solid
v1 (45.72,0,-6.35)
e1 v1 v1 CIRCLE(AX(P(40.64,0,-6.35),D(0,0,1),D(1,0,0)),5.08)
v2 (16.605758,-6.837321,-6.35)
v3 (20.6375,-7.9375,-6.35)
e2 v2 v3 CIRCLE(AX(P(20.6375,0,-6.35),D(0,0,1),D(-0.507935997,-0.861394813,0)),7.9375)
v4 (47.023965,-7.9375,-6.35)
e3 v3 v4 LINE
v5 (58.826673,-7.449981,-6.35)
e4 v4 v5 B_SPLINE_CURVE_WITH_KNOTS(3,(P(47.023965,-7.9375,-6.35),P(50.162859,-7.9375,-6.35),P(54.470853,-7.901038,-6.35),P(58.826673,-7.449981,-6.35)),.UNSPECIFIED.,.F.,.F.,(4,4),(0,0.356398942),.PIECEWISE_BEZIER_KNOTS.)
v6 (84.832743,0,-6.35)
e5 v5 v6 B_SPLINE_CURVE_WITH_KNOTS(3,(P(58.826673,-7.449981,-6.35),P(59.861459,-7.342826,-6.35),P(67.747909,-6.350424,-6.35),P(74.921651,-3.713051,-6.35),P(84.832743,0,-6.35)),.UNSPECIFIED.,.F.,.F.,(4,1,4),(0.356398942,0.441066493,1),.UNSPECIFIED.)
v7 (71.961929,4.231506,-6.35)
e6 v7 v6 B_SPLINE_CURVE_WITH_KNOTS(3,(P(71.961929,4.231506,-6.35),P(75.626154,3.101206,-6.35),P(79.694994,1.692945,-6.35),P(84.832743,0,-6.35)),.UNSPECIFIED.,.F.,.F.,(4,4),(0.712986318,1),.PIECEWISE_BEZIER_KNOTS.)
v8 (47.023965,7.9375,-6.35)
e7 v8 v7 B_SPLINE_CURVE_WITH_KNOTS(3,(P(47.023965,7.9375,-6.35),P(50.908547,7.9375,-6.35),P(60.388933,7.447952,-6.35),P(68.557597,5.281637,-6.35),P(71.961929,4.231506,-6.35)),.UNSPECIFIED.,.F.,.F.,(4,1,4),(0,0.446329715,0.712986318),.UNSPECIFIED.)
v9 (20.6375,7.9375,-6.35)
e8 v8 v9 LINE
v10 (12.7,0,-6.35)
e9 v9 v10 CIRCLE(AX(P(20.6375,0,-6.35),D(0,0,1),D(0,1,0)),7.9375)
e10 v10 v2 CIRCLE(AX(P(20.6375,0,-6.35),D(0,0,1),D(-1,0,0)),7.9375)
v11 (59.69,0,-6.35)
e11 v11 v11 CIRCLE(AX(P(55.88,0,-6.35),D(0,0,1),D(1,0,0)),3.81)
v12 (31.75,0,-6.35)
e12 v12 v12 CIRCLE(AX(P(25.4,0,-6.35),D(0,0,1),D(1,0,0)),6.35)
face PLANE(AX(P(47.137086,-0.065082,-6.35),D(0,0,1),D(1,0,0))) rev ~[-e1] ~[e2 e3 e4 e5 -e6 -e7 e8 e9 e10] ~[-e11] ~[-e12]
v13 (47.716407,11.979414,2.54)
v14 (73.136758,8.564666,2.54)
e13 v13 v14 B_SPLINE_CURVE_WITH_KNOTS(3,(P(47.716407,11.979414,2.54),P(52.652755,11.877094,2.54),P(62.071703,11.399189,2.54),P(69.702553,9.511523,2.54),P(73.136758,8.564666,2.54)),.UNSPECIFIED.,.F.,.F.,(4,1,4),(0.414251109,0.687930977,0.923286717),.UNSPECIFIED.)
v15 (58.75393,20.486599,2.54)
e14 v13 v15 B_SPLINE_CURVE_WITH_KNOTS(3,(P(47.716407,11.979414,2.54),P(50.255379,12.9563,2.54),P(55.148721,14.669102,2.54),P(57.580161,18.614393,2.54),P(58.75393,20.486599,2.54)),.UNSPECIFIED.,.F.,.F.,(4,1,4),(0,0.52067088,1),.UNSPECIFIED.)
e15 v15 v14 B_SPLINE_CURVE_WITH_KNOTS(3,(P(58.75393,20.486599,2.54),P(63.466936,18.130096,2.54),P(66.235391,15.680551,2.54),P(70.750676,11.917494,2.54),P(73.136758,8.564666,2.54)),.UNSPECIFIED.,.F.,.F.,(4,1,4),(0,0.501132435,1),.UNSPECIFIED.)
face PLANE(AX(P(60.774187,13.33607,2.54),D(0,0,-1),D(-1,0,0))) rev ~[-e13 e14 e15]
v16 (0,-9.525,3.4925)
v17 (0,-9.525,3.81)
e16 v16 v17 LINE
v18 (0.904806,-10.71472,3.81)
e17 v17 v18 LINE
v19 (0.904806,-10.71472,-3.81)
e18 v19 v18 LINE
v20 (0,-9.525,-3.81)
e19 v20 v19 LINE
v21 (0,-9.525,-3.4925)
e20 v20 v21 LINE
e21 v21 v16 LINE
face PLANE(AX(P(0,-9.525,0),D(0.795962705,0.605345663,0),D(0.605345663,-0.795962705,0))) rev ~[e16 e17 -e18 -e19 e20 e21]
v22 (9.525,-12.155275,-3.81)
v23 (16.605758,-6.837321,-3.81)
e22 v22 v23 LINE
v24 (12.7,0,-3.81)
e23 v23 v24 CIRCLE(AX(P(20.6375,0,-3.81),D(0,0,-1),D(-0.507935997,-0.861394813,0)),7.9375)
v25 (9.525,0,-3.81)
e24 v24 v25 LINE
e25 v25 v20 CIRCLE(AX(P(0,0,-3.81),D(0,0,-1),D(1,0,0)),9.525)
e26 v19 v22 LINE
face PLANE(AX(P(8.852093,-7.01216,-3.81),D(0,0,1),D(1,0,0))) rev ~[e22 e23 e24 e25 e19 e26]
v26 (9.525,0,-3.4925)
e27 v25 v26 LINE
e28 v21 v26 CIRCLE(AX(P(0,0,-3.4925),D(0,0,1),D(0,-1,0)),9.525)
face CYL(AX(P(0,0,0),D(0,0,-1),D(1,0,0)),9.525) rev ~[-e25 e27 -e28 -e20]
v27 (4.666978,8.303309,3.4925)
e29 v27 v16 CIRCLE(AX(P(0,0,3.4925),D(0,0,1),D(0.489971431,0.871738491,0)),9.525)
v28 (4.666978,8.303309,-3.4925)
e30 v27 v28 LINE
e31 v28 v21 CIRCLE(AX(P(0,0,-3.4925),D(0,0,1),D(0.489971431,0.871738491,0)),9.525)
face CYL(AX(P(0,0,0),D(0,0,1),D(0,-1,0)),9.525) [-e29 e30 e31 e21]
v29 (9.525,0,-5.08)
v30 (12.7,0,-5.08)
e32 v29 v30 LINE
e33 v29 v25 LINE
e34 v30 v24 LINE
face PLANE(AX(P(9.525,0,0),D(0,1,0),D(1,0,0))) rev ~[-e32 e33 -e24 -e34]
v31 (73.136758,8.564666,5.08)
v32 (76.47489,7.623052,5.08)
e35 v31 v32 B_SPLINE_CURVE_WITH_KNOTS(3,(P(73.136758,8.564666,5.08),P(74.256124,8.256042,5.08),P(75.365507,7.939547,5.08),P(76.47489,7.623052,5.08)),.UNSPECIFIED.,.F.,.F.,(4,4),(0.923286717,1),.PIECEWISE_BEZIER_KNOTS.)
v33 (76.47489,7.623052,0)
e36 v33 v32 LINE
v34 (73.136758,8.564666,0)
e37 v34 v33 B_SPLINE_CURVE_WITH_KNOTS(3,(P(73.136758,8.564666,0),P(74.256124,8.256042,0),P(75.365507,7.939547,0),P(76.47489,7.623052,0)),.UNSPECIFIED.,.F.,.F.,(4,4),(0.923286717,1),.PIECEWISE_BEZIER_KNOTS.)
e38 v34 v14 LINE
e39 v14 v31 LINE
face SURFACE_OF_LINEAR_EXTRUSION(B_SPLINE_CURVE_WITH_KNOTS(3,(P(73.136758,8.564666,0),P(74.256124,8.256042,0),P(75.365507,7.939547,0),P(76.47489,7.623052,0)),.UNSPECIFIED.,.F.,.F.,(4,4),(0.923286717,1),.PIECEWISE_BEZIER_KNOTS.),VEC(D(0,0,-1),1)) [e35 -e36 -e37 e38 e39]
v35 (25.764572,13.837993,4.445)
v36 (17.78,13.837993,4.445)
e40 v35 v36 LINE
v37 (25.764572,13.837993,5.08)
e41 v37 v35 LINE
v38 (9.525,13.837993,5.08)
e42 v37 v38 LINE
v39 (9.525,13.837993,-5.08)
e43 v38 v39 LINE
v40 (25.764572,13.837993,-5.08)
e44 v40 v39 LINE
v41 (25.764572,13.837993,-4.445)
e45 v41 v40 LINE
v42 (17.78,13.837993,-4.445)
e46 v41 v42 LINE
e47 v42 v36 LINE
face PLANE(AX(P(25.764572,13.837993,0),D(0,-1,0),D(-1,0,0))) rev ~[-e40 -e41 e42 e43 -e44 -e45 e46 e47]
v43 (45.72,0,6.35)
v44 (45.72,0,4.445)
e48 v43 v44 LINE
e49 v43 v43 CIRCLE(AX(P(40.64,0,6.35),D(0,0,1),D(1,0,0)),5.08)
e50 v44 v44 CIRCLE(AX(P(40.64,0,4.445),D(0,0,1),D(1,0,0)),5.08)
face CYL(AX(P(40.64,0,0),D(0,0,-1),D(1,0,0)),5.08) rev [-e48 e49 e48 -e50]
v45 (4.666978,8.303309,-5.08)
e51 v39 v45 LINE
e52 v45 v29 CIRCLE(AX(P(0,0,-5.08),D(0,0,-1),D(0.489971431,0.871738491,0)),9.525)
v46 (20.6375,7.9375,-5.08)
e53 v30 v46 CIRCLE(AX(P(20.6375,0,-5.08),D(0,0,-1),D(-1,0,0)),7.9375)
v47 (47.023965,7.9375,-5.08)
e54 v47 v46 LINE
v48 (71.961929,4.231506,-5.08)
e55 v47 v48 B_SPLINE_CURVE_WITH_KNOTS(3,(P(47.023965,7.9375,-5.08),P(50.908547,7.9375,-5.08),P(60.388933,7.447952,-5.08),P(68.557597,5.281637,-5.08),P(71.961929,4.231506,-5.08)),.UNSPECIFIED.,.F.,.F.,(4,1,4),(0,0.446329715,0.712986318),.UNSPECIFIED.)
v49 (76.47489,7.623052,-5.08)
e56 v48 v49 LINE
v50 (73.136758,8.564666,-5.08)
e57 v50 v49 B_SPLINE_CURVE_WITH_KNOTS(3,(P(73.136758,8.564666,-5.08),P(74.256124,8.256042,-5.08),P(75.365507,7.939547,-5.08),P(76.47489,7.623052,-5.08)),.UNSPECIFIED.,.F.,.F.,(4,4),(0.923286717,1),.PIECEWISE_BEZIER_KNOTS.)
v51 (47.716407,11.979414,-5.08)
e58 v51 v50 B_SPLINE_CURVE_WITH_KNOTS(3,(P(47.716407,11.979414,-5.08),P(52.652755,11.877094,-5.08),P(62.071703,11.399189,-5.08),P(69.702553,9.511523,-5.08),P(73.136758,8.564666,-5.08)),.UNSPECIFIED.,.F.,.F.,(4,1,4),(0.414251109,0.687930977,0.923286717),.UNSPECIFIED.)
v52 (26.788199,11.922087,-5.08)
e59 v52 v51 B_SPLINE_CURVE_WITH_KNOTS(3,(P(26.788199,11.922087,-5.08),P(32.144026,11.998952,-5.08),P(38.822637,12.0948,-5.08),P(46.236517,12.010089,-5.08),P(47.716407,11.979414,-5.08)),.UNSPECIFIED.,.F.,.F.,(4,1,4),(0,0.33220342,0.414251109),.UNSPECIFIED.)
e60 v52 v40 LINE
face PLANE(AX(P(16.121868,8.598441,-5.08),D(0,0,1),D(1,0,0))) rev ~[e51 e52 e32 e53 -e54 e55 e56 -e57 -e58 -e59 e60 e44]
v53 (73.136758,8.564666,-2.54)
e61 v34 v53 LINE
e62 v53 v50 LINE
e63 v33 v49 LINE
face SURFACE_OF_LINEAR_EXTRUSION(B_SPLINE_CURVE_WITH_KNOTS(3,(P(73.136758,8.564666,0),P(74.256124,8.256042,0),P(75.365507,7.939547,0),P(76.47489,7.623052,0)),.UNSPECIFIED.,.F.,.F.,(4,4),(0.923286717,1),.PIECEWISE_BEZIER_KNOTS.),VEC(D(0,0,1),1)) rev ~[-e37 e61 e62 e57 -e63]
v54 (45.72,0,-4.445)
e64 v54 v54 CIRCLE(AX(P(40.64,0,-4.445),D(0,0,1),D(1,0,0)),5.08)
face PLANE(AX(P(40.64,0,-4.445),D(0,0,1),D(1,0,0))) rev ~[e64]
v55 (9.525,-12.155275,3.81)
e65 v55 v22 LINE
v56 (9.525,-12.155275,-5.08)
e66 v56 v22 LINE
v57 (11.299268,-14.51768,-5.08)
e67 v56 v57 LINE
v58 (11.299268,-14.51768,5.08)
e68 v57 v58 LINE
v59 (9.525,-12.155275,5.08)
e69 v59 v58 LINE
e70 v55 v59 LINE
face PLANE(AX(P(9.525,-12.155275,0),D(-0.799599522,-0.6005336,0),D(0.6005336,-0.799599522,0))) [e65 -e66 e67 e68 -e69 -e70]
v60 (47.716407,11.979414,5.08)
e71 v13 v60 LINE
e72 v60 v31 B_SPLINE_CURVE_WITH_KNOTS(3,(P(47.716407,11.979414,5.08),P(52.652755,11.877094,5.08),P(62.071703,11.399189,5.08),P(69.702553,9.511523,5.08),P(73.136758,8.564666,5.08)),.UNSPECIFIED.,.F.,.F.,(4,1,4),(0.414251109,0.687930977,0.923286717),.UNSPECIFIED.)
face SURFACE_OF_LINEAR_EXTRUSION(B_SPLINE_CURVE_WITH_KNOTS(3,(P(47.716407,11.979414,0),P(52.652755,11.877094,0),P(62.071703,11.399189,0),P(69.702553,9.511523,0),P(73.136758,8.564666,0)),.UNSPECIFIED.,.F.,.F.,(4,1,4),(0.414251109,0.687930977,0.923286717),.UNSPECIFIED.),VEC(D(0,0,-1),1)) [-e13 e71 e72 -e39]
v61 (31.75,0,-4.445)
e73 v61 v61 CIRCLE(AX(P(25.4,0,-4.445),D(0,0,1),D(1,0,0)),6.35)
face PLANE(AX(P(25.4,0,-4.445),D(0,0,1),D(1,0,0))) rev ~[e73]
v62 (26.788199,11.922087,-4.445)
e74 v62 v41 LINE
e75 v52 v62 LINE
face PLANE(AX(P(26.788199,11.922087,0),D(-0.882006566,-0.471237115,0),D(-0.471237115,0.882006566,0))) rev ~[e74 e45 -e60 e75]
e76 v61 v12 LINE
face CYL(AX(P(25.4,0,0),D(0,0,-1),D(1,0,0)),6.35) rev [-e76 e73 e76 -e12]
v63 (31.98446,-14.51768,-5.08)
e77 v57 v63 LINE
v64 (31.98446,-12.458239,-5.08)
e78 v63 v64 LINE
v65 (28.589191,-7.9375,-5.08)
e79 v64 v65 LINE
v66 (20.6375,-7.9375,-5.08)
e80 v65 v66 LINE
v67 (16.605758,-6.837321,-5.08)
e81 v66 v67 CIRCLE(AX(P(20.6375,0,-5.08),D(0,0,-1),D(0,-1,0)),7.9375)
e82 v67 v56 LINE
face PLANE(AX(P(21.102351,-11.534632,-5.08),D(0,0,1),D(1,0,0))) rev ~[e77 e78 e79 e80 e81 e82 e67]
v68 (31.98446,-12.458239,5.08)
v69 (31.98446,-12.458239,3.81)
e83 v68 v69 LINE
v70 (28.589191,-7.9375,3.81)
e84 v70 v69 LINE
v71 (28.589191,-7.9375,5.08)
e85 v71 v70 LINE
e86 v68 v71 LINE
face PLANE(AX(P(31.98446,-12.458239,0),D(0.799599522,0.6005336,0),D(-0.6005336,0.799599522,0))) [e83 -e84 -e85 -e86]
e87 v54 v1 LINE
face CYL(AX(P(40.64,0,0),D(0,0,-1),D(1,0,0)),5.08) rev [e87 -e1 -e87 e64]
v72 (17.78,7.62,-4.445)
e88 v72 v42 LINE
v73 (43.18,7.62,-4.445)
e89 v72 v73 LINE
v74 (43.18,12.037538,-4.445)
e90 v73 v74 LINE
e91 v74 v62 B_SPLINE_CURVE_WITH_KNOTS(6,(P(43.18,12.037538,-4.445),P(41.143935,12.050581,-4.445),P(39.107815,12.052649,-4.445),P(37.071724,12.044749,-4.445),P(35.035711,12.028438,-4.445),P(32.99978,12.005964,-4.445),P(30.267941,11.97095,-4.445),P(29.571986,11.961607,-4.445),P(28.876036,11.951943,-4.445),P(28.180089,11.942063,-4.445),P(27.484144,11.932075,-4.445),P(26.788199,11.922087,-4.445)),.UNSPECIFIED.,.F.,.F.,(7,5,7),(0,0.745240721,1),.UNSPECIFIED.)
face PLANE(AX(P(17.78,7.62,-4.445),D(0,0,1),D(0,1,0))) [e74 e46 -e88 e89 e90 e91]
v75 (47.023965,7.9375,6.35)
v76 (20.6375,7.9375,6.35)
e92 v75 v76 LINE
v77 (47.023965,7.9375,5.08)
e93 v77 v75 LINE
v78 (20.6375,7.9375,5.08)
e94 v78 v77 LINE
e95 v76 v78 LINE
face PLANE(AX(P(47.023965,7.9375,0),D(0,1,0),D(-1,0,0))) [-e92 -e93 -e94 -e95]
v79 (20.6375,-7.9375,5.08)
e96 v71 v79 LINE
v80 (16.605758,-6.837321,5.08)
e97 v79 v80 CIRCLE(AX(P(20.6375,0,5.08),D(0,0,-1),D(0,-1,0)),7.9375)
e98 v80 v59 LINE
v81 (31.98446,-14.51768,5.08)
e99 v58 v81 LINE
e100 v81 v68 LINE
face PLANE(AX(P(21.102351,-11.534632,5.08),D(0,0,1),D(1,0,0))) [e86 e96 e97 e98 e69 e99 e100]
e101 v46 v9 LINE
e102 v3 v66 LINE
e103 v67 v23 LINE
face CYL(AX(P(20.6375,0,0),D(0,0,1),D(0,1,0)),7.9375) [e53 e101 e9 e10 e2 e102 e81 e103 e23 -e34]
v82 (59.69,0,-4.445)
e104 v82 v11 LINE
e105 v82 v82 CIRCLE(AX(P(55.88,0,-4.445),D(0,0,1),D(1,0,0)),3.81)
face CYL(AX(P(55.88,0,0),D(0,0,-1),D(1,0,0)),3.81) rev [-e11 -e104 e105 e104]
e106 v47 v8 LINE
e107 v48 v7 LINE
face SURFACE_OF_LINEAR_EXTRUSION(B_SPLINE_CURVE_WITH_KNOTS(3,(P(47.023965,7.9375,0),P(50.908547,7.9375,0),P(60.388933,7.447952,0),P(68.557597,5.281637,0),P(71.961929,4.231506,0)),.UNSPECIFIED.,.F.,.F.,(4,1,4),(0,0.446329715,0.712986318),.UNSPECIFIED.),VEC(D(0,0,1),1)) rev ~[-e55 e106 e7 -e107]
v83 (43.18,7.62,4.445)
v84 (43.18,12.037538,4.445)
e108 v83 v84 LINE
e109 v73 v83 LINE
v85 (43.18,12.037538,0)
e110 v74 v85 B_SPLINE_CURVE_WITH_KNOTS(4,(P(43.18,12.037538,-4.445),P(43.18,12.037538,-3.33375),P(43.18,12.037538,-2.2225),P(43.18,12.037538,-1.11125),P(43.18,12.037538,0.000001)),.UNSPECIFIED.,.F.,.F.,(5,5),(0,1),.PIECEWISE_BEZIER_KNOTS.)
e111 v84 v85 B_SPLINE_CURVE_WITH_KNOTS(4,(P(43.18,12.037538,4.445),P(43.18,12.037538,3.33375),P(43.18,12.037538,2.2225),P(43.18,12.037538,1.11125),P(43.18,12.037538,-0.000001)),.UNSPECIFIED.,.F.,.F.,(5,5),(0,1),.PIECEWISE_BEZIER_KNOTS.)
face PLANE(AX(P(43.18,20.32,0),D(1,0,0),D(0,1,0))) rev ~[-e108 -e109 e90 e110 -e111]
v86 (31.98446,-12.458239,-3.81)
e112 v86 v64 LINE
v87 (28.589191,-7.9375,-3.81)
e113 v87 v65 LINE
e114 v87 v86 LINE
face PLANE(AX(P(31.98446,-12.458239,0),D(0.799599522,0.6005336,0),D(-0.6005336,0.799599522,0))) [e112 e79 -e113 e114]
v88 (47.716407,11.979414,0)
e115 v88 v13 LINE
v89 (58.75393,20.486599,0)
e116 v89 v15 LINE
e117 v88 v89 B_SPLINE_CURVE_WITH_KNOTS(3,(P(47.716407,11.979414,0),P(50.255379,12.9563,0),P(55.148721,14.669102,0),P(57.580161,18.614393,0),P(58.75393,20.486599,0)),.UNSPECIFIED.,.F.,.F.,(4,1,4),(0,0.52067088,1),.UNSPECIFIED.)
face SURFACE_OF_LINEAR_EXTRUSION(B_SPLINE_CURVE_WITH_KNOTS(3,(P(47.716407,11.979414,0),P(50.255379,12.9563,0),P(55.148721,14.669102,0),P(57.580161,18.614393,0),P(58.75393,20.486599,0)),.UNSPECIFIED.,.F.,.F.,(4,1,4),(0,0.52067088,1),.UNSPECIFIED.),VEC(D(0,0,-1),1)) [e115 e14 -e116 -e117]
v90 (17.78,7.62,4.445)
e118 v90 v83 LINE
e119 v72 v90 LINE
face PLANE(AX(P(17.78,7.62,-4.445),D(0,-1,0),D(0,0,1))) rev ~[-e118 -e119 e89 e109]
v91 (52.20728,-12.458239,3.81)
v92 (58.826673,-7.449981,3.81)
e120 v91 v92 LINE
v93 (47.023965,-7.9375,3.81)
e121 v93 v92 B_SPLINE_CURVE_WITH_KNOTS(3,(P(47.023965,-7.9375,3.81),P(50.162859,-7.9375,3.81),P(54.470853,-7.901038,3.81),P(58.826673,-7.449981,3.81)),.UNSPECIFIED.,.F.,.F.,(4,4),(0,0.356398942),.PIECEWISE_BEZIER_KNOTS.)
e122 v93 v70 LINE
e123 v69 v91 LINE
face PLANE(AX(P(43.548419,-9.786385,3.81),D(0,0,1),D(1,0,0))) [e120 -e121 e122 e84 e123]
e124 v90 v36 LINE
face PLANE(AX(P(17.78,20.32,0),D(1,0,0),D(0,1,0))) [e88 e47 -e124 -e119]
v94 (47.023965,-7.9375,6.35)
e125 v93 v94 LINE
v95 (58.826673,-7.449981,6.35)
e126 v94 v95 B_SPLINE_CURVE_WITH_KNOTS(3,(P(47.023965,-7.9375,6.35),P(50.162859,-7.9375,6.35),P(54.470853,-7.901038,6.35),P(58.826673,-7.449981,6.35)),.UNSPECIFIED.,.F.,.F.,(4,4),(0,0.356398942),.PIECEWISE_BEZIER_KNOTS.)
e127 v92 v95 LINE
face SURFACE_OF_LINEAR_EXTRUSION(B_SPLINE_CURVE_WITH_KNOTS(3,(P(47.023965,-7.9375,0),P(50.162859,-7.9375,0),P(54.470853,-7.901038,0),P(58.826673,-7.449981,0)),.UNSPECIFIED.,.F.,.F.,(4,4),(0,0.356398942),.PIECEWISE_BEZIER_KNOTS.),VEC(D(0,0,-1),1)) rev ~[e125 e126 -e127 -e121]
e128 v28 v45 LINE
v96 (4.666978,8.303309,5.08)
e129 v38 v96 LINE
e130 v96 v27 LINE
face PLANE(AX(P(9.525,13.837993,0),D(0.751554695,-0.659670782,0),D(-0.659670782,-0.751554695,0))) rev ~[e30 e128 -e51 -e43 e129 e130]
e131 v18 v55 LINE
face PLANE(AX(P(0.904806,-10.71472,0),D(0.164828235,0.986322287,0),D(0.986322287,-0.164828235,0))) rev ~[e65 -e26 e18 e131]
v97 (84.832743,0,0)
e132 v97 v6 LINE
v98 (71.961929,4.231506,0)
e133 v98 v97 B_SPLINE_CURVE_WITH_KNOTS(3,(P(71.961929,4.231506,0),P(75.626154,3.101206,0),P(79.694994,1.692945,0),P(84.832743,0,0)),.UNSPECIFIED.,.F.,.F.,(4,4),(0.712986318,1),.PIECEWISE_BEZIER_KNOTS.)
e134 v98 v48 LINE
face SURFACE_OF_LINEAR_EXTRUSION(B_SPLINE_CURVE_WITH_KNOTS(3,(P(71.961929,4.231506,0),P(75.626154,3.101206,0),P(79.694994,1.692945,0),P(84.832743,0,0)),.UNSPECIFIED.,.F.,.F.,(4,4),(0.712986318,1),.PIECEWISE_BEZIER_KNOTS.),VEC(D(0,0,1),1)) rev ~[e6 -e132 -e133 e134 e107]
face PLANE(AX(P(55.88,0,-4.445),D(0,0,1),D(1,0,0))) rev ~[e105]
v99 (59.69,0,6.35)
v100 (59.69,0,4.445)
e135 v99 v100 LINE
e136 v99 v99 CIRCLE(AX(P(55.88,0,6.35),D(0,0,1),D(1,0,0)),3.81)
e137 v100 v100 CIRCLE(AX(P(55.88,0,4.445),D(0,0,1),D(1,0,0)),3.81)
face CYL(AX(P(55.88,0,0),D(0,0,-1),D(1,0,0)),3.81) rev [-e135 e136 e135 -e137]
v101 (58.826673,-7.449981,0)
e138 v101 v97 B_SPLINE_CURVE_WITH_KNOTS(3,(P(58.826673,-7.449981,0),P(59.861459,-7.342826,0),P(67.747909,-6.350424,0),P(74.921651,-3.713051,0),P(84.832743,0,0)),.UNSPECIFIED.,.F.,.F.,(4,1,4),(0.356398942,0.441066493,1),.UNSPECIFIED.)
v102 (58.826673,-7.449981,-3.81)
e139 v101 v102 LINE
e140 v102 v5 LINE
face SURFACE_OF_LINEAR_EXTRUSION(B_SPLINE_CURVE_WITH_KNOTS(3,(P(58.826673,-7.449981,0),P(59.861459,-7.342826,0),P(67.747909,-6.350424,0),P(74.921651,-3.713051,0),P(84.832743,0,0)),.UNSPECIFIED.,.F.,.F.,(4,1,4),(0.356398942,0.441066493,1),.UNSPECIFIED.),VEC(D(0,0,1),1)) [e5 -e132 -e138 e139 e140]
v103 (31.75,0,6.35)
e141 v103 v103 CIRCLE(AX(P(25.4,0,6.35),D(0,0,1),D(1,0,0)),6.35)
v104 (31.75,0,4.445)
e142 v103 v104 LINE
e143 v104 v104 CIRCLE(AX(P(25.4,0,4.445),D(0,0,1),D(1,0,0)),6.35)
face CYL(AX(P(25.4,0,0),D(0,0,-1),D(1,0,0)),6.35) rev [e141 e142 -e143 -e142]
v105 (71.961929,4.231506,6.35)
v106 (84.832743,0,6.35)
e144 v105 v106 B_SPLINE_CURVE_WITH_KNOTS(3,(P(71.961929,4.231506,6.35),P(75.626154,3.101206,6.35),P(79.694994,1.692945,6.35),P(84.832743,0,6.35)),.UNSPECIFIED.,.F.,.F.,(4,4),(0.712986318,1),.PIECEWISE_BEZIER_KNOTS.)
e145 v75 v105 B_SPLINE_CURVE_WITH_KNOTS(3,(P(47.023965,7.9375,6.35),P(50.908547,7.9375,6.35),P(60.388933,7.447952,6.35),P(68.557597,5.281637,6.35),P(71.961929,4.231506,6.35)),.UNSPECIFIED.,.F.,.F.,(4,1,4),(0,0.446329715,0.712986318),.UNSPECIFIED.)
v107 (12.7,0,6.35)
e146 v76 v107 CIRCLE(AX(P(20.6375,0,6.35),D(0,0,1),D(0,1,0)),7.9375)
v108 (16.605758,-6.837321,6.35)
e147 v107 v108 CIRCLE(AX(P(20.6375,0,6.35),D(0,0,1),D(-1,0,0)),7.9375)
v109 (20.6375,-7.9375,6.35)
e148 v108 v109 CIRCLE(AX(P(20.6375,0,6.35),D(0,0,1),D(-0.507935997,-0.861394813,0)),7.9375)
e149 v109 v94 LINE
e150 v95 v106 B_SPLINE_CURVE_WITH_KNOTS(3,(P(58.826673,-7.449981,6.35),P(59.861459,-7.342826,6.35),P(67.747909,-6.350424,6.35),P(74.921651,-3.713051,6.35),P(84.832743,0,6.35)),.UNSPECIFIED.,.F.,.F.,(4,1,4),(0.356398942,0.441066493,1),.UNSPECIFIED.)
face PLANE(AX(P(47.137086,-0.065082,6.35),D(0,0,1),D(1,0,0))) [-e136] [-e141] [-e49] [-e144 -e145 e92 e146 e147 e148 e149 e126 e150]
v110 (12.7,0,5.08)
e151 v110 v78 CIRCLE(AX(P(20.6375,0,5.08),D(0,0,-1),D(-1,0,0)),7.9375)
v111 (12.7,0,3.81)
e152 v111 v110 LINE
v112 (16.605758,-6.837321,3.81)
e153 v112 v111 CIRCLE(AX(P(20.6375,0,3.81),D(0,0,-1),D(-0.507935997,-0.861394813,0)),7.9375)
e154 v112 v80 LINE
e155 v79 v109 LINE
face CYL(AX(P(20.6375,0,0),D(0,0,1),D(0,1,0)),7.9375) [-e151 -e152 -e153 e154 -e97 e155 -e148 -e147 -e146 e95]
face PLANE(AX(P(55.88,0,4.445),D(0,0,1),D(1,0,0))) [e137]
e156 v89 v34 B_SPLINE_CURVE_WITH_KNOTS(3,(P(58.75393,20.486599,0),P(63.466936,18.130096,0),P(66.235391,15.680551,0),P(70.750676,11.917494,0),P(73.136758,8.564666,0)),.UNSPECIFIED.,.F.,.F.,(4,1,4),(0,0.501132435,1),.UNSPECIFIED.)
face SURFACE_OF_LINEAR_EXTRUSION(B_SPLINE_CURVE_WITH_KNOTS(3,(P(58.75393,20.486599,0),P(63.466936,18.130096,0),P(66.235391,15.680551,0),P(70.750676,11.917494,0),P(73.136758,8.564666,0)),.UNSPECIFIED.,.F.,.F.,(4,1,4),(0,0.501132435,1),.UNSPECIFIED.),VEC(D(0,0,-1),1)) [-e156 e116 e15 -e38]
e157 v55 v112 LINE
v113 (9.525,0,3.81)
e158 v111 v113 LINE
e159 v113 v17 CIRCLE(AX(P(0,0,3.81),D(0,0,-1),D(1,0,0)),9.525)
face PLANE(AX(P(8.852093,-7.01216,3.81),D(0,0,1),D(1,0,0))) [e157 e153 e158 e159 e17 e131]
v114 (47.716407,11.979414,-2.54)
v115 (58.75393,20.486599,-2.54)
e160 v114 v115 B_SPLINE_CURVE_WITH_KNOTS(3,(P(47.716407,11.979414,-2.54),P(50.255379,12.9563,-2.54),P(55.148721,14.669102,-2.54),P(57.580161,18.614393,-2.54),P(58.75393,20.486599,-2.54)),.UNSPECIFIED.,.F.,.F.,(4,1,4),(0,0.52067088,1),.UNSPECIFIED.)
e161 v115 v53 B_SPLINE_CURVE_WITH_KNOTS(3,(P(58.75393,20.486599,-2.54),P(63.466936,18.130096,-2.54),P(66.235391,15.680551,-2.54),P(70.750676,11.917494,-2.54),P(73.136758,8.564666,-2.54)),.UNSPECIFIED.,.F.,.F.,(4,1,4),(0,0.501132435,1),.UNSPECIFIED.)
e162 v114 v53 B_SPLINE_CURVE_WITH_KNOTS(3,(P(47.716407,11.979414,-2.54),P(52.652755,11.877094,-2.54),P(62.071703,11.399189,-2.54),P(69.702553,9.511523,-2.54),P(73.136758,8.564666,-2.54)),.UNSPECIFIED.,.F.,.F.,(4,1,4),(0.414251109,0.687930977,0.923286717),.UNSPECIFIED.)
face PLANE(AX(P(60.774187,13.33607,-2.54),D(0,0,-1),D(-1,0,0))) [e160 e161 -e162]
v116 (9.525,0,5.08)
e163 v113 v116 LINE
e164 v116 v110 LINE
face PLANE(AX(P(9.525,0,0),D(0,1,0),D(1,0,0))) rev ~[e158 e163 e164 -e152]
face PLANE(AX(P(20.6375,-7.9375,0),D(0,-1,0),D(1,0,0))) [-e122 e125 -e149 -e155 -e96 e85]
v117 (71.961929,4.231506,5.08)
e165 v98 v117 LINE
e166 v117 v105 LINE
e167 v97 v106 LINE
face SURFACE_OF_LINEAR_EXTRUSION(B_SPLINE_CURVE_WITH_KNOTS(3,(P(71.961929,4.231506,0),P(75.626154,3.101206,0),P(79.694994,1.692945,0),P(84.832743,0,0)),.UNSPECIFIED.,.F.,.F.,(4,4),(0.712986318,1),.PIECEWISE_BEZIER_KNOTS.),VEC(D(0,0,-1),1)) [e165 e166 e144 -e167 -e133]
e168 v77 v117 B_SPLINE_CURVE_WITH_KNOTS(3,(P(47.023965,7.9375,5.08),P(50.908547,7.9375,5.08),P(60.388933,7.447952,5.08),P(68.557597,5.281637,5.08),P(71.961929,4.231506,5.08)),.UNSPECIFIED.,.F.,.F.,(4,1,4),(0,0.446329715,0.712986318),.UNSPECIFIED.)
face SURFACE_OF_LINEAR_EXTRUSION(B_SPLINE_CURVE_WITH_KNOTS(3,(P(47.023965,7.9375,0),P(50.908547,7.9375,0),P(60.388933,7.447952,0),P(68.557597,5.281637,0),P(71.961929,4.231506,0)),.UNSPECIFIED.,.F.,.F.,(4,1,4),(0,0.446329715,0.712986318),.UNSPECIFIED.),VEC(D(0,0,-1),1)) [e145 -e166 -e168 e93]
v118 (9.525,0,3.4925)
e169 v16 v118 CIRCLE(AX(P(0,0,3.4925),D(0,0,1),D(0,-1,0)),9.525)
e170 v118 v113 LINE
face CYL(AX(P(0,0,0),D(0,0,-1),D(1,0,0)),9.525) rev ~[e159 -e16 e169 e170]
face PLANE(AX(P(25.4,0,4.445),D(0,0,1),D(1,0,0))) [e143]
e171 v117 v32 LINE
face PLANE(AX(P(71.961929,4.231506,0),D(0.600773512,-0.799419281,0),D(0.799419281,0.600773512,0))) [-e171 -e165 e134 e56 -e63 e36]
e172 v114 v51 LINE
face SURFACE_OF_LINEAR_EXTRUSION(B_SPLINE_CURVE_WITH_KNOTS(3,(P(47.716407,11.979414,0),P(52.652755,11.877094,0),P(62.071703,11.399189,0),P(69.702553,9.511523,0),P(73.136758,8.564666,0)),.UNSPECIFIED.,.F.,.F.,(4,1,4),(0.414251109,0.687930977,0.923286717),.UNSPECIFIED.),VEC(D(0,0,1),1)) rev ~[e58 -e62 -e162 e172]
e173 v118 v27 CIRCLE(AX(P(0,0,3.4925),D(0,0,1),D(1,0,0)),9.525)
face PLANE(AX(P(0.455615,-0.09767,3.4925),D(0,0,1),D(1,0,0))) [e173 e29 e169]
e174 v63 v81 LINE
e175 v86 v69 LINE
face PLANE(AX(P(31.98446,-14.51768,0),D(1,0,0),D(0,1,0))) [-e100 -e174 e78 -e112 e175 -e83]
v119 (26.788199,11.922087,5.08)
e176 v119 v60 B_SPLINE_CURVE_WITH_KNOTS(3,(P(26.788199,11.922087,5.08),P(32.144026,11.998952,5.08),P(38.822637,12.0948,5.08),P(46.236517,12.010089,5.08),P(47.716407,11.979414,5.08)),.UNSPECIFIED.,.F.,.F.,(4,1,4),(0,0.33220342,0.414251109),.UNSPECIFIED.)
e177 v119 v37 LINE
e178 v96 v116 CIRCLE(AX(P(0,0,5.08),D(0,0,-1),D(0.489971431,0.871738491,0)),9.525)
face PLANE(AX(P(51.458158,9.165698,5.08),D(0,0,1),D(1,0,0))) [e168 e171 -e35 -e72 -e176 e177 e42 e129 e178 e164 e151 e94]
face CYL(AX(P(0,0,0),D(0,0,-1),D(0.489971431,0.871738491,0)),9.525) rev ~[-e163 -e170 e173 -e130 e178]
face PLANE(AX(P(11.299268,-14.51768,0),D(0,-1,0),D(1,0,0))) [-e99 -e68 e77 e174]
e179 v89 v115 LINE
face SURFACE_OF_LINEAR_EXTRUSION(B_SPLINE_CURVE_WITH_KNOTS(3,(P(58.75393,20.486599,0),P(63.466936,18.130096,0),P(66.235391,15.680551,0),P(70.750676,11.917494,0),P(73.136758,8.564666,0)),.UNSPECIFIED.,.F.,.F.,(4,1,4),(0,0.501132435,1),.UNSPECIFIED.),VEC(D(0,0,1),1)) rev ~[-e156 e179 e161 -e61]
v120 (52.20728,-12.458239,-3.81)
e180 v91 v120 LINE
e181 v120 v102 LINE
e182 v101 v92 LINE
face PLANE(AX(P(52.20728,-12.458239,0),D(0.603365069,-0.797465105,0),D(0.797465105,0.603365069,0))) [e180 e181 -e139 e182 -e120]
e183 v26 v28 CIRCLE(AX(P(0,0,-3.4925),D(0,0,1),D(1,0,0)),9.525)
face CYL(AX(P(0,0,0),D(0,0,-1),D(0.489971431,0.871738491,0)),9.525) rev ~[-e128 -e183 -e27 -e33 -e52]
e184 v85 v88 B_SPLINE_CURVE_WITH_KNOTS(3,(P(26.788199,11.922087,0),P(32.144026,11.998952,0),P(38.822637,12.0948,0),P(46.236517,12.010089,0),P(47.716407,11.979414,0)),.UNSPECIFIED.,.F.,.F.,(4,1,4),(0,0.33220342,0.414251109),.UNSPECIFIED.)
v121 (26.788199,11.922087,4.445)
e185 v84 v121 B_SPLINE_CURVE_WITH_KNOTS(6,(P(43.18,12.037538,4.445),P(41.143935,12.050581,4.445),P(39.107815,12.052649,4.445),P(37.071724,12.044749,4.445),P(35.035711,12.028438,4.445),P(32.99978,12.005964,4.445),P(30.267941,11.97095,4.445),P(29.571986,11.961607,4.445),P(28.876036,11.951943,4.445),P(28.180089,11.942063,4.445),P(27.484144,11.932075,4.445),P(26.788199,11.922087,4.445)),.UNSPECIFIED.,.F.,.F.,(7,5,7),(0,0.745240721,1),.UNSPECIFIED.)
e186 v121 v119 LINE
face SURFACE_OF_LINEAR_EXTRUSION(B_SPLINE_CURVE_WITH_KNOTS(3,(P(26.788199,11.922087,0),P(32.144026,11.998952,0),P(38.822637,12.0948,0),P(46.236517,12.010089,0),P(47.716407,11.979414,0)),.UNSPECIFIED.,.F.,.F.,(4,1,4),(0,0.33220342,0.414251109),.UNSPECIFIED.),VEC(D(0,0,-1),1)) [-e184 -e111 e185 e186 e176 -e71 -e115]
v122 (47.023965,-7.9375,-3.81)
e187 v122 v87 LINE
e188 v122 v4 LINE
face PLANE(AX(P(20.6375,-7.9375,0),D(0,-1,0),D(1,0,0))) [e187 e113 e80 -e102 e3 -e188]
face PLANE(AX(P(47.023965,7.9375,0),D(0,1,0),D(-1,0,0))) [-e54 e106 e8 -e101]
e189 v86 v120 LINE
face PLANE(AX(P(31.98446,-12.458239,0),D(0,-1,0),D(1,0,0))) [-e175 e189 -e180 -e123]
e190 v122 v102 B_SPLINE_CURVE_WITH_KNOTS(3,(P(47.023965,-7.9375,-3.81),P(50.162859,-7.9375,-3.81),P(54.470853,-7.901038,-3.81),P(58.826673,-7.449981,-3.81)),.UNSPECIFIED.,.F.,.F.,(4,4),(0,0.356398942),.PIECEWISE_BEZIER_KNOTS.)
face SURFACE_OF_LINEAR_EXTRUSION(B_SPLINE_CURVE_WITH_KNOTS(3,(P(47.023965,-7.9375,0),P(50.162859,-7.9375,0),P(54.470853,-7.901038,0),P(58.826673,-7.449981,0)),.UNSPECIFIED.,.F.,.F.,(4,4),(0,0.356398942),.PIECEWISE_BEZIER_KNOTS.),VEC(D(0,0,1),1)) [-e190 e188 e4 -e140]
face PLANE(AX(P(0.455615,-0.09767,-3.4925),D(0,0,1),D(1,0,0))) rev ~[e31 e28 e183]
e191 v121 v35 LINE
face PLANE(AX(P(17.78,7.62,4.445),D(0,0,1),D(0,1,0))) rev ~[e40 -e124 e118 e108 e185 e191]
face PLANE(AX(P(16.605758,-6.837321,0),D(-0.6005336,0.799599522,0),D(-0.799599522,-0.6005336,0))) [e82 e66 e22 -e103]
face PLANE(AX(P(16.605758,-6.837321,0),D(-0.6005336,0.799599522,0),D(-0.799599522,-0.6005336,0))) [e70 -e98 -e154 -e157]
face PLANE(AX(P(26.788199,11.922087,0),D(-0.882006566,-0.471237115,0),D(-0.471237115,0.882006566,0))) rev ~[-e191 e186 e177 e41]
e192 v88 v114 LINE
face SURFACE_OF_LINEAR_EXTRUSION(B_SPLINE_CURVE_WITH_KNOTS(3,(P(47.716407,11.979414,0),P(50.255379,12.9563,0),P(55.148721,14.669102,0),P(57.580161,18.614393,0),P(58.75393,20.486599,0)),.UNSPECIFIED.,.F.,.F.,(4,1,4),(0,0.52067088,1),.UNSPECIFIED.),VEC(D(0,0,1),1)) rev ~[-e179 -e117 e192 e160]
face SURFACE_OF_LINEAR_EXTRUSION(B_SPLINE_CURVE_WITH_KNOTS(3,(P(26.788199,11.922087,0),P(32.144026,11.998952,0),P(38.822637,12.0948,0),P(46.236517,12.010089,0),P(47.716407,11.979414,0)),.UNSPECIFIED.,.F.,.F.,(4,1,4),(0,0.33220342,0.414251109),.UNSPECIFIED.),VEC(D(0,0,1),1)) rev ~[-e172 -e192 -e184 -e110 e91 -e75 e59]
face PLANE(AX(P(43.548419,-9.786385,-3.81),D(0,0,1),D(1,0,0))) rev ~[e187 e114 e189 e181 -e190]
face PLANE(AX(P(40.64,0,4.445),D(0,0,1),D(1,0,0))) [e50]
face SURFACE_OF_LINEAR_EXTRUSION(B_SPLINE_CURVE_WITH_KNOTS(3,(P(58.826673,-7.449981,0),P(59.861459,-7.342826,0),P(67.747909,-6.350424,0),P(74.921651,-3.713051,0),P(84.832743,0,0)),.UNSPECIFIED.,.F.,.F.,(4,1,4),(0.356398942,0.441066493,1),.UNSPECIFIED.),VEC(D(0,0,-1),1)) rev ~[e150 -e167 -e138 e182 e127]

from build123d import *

# Parameters (mm, degrees)
F0_R      = 6.35
F0_R_2    = 5.08
F0_R_3    = 3.81
F1_DEPTH  = 6.35
F2_DEPTH  = 5.08
F3_DEPTH  = 3.81
F4_DEPTH  = 5.08
F5_DEPTH  = 4.445
F6_DEPTH  = 2.54
F7_DEPTH  = 3.4925
F9_W      = 25.4
F9_H      = 8.89
F10_DEPTH = 25.4


with BuildPart() as f1:
    # F0 (on Top) → F1 (new body, symmetric)
    with BuildSketch(Plane.XY):
        with BuildLine():
            ThreePointArc((20.6375, 7.9375), (15.0248399243, 5.6126600757), (12.7, 0))
            ThreePointArc((12.7, 0), (13.7452631291, -3.9371280351), (16.6057580259, -6.8373213252))
            ThreePointArc((16.6057580259, -6.8373213252), (18.5479225031, -7.657517361), (20.6375, -7.9375))
            Line((20.6375, -7.9375), (28.5891905523, -7.9375))
            Line((28.5891905523, -7.9375), (47.0239648166, -7.9375))
            add(Edge.make_bspline(
                [(47.0239648166, -7.9375), (50.1628587093, -7.9375), (54.4708534919, -7.901038248), (58.8266731571, -7.4499811863)],
                knots=[0, 0, 0, 0, 0.356398942, 0.356398942, 0.356398942, 0.356398942], degree=3))
            add(Edge.make_bspline(
                [(58.8266731571, -7.4499811863), (59.861459017, -7.3428262751), (67.7479089132, -6.3504244943), (74.9216513282, -3.7130513492), (84.8327428102, 0)],
                knots=[0.356398942, 0.356398942, 0.356398942, 0.356398942, 0.4410664934, 1, 1, 1, 1], degree=3))
            add(Edge.make_bspline(
                [(71.9619289421, 4.23150589), (75.6261537873, 3.1012059967), (79.6949939777, 1.6929446589), (84.8327428102, 0)],
                knots=[0.7129863176, 0.7129863176, 0.7129863176, 0.7129863176, 1, 1, 1, 1], degree=3))
            add(Edge.make_bspline(
                [(47.0239648166, 7.9375), (50.9085468383, 7.9375), (60.3889330239, 7.4479522989), (68.5575973368, 5.2816367669), (71.9619289421, 4.23150589)],
                knots=[0, 0, 0, 0, 0.4463297146, 0.7129863176, 0.7129863176, 0.7129863176, 0.7129863176], degree=3))
            Line((47.0239648166, 7.9375), (28.9170779288, 7.9375))
            Line((28.9170779288, 7.9375), (20.6375, 7.9375))
        make_face()
        with Locations((25.4, 0)):
            Circle(F0_R, mode=Mode.SUBTRACT)
        with Locations((40.64, 0)):
            Circle(F0_R_2, mode=Mode.SUBTRACT)
        with Locations((55.88, 0)):
            Circle(F0_R_3, mode=Mode.SUBTRACT)
    extrude(amount=F1_DEPTH, both=True)

    # F0 (on Top) → F2 (join, symmetric)
    with BuildSketch(Plane.XY):
        with BuildLine():
            ThreePointArc((4.6669778819, 8.3033091265), (8.2212708666, 4.8100239435), (9.525, 0))
            Line((9.525, 0), (12.7, 0))
            ThreePointArc((12.7, 0), (15.0248399243, 5.6126600757), (20.6375, 7.9375))
            Line((20.6375, 7.9375), (28.9170779288, 7.9375))
            Line((28.9170779288, 7.9375), (26.7881988015, 11.9220871824))
            Line((26.7881988015, 11.9220871824), (25.7645715028, 13.837993145))
            Line((25.7645715028, 13.837993145), (9.525, 13.837993145))
            Line((9.525, 13.837993145), (4.6669778819, 8.3033091265))
        make_face()
        with BuildLine():
            ThreePointArc((20.6375, -7.9375), (18.5479225031, -7.657517361), (16.6057580259, -6.8373213252))
            Line((16.6057580259, -6.8373213252), (9.525, -12.1552748606))
            Line((9.525, -12.1552748606), (11.2992681047, -14.5176804436))
            Line((11.2992681047, -14.5176804436), (31.9844596088, -14.5176804436))
            Line((31.9844596088, -14.5176804436), (31.9844596088, -12.4582387507))
            Line((31.9844596088, -12.4582387507), (28.5891905523, -7.9375))
            Line((28.5891905523, -7.9375), (20.6375, -7.9375))
        make_face()
    extrude(amount=F2_DEPTH, both=True)

    # F0 (on Top) → F3 (join, symmetric)
    with BuildSketch(Plane.XY):
        with BuildLine():
            Line((12.7, 0), (9.525, 0))
            ThreePointArc((9.525, 0), (6.7351920908, -6.7351920908), (0, -9.525))
            Line((0, -9.525), (0.9048060165, -10.7147200033))
            Line((0.9048060165, -10.7147200033), (9.525, -12.1552748606))
            Line((9.525, -12.1552748606), (16.6057580259, -6.8373213252))
            ThreePointArc((16.6057580259, -6.8373213252), (13.7452631291, -3.9371280351), (12.7, 0))
        make_face()
        with BuildLine():
            Line((47.0239648166, -7.9375), (28.5891905523, -7.9375))
            Line((28.5891905523, -7.9375), (31.9844596088, -12.4582387507))
            Line((31.9844596088, -12.4582387507), (52.2072799504, -12.4582387507))
            Line((52.2072799504, -12.4582387507), (58.8266731571, -7.4499811863))
            add(Edge.make_bspline(
                [(47.0239648166, -7.9375), (50.1628587093, -7.9375), (54.4708534919, -7.901038248), (58.8266731571, -7.4499811863)],
                knots=[0, 0, 0, 0, 0.356398942, 0.356398942, 0.356398942, 0.356398942], degree=3))
        make_face()
    extrude(amount=F3_DEPTH, both=True)

    # F0 (on Top) → F4 (join, symmetric)
    with BuildSketch(Plane.XY):
        with BuildLine():
            Line((26.7881988015, 11.9220871824), (28.9170779288, 7.9375))
            Line((28.9170779288, 7.9375), (47.0239648166, 7.9375))
            add(Edge.make_bspline(
                [(47.0239648166, 7.9375), (50.9085468383, 7.9375), (60.3889330239, 7.4479522989), (68.5575973368, 5.2816367669), (71.9619289421, 4.23150589)],
                knots=[0, 0, 0, 0, 0.4463297146, 0.7129863176, 0.7129863176, 0.7129863176, 0.7129863176], degree=3))
            Line((71.9619289421, 4.23150589), (76.4748901129, 7.6230522245))
            add(Edge.make_bspline(
                [(73.1367582265, 8.5646662812), (74.256124111, 8.2560420222), (75.365507112, 7.9395471234), (76.4748901129, 7.6230522245)],
                knots=[0.9232867166, 0.9232867166, 0.9232867166, 0.9232867166, 1, 1, 1, 1], degree=3))
            add(Edge.make_bspline(
                [(47.7164069202, 11.9794139597), (52.6527554368, 11.8770937689), (62.0717029658, 11.3991886108), (69.7025526498, 9.5115230384), (73.1367582265, 8.5646662812)],
                knots=[0.4142511087, 0.4142511087, 0.4142511087, 0.4142511087, 0.6879309771, 0.9232867166, 0.9232867166, 0.9232867166, 0.9232867166], degree=3))
            add(Edge.make_bspline(
                [(26.7881988015, 11.9220871824), (32.1440259001, 11.9989515109), (38.8226365897, 12.0947998115), (46.2365173414, 12.0100889786), (47.7164069202, 11.9794139597)],
                knots=[0, 0, 0, 0, 0.3322034202, 0.4142511087, 0.4142511087, 0.4142511087, 0.4142511087], degree=3))
        make_face()
    extrude(amount=F4_DEPTH, both=True)

    # F0 (on Top) → F5 (join, symmetric)
    with BuildSketch(Plane.XY):
        with Locations((25.4, 0)):
            Circle(F0_R)
        with Locations((40.64, 0)):
            Circle(F0_R_2)
        with Locations((55.88, 0)):
            Circle(F0_R_3)
    extrude(amount=F5_DEPTH, both=True)

    # F0 (on Top) → F6 (join, symmetric)
    with BuildSketch(Plane.XY):
        with BuildLine():
            add(Edge.make_bspline(
                [(47.7164069202, 11.9794139597), (50.2553793255, 12.9562999117), (55.1487210053, 14.6691018672), (57.5801610639, 18.6143925282), (58.7539300323, 20.4865988344)],
                knots=[0, 0, 0, 0, 0.5206708795, 1, 1, 1, 1], degree=3))
            add(Edge.make_bspline(
                [(47.7164069202, 11.9794139597), (52.6527554368, 11.8770937689), (62.0717029658, 11.3991886108), (69.7025526498, 9.5115230384), (73.1367582265, 8.5646662812)],
                knots=[0.4142511087, 0.4142511087, 0.4142511087, 0.4142511087, 0.6879309771, 0.9232867166, 0.9232867166, 0.9232867166, 0.9232867166], degree=3))
            add(Edge.make_bspline(
                [(58.7539300323, 20.4865988344), (63.4669363499, 18.1300956756), (66.2353913937, 15.6805505534), (70.7506760955, 11.9174942374), (73.1367582265, 8.5646662812)],
                knots=[0, 0, 0, 0, 0.5011324349, 1, 1, 1, 1], degree=3))
        make_face()
    extrude(amount=F6_DEPTH, both=True)

    # F0 (on Top) → F7 (join, symmetric)
    with BuildSketch(Plane.XY):
        with BuildLine():
            ThreePointArc((0, -9.525), (6.7351920908, -6.7351920908), (9.525, 0))
            ThreePointArc((9.525, 0), (8.2212708666, 4.8100239435), (4.6669778819, 8.3033091265))
            ThreePointArc((4.6669778819, 8.3033091265), (-9.2145169279, 2.4121158316), (0, -9.525))
        make_face()
    extrude(amount=F7_DEPTH, both=True)

    # F9 (on offset) → F10 (cut)
    with BuildSketch(Plane.YZ.offset(17.78)):
        with Locations((20.32, 0)):
            Rectangle(F9_W, F9_H)
    extrude(amount=F10_DEPTH, mode=Mode.SUBTRACT)


solid = f1.part
